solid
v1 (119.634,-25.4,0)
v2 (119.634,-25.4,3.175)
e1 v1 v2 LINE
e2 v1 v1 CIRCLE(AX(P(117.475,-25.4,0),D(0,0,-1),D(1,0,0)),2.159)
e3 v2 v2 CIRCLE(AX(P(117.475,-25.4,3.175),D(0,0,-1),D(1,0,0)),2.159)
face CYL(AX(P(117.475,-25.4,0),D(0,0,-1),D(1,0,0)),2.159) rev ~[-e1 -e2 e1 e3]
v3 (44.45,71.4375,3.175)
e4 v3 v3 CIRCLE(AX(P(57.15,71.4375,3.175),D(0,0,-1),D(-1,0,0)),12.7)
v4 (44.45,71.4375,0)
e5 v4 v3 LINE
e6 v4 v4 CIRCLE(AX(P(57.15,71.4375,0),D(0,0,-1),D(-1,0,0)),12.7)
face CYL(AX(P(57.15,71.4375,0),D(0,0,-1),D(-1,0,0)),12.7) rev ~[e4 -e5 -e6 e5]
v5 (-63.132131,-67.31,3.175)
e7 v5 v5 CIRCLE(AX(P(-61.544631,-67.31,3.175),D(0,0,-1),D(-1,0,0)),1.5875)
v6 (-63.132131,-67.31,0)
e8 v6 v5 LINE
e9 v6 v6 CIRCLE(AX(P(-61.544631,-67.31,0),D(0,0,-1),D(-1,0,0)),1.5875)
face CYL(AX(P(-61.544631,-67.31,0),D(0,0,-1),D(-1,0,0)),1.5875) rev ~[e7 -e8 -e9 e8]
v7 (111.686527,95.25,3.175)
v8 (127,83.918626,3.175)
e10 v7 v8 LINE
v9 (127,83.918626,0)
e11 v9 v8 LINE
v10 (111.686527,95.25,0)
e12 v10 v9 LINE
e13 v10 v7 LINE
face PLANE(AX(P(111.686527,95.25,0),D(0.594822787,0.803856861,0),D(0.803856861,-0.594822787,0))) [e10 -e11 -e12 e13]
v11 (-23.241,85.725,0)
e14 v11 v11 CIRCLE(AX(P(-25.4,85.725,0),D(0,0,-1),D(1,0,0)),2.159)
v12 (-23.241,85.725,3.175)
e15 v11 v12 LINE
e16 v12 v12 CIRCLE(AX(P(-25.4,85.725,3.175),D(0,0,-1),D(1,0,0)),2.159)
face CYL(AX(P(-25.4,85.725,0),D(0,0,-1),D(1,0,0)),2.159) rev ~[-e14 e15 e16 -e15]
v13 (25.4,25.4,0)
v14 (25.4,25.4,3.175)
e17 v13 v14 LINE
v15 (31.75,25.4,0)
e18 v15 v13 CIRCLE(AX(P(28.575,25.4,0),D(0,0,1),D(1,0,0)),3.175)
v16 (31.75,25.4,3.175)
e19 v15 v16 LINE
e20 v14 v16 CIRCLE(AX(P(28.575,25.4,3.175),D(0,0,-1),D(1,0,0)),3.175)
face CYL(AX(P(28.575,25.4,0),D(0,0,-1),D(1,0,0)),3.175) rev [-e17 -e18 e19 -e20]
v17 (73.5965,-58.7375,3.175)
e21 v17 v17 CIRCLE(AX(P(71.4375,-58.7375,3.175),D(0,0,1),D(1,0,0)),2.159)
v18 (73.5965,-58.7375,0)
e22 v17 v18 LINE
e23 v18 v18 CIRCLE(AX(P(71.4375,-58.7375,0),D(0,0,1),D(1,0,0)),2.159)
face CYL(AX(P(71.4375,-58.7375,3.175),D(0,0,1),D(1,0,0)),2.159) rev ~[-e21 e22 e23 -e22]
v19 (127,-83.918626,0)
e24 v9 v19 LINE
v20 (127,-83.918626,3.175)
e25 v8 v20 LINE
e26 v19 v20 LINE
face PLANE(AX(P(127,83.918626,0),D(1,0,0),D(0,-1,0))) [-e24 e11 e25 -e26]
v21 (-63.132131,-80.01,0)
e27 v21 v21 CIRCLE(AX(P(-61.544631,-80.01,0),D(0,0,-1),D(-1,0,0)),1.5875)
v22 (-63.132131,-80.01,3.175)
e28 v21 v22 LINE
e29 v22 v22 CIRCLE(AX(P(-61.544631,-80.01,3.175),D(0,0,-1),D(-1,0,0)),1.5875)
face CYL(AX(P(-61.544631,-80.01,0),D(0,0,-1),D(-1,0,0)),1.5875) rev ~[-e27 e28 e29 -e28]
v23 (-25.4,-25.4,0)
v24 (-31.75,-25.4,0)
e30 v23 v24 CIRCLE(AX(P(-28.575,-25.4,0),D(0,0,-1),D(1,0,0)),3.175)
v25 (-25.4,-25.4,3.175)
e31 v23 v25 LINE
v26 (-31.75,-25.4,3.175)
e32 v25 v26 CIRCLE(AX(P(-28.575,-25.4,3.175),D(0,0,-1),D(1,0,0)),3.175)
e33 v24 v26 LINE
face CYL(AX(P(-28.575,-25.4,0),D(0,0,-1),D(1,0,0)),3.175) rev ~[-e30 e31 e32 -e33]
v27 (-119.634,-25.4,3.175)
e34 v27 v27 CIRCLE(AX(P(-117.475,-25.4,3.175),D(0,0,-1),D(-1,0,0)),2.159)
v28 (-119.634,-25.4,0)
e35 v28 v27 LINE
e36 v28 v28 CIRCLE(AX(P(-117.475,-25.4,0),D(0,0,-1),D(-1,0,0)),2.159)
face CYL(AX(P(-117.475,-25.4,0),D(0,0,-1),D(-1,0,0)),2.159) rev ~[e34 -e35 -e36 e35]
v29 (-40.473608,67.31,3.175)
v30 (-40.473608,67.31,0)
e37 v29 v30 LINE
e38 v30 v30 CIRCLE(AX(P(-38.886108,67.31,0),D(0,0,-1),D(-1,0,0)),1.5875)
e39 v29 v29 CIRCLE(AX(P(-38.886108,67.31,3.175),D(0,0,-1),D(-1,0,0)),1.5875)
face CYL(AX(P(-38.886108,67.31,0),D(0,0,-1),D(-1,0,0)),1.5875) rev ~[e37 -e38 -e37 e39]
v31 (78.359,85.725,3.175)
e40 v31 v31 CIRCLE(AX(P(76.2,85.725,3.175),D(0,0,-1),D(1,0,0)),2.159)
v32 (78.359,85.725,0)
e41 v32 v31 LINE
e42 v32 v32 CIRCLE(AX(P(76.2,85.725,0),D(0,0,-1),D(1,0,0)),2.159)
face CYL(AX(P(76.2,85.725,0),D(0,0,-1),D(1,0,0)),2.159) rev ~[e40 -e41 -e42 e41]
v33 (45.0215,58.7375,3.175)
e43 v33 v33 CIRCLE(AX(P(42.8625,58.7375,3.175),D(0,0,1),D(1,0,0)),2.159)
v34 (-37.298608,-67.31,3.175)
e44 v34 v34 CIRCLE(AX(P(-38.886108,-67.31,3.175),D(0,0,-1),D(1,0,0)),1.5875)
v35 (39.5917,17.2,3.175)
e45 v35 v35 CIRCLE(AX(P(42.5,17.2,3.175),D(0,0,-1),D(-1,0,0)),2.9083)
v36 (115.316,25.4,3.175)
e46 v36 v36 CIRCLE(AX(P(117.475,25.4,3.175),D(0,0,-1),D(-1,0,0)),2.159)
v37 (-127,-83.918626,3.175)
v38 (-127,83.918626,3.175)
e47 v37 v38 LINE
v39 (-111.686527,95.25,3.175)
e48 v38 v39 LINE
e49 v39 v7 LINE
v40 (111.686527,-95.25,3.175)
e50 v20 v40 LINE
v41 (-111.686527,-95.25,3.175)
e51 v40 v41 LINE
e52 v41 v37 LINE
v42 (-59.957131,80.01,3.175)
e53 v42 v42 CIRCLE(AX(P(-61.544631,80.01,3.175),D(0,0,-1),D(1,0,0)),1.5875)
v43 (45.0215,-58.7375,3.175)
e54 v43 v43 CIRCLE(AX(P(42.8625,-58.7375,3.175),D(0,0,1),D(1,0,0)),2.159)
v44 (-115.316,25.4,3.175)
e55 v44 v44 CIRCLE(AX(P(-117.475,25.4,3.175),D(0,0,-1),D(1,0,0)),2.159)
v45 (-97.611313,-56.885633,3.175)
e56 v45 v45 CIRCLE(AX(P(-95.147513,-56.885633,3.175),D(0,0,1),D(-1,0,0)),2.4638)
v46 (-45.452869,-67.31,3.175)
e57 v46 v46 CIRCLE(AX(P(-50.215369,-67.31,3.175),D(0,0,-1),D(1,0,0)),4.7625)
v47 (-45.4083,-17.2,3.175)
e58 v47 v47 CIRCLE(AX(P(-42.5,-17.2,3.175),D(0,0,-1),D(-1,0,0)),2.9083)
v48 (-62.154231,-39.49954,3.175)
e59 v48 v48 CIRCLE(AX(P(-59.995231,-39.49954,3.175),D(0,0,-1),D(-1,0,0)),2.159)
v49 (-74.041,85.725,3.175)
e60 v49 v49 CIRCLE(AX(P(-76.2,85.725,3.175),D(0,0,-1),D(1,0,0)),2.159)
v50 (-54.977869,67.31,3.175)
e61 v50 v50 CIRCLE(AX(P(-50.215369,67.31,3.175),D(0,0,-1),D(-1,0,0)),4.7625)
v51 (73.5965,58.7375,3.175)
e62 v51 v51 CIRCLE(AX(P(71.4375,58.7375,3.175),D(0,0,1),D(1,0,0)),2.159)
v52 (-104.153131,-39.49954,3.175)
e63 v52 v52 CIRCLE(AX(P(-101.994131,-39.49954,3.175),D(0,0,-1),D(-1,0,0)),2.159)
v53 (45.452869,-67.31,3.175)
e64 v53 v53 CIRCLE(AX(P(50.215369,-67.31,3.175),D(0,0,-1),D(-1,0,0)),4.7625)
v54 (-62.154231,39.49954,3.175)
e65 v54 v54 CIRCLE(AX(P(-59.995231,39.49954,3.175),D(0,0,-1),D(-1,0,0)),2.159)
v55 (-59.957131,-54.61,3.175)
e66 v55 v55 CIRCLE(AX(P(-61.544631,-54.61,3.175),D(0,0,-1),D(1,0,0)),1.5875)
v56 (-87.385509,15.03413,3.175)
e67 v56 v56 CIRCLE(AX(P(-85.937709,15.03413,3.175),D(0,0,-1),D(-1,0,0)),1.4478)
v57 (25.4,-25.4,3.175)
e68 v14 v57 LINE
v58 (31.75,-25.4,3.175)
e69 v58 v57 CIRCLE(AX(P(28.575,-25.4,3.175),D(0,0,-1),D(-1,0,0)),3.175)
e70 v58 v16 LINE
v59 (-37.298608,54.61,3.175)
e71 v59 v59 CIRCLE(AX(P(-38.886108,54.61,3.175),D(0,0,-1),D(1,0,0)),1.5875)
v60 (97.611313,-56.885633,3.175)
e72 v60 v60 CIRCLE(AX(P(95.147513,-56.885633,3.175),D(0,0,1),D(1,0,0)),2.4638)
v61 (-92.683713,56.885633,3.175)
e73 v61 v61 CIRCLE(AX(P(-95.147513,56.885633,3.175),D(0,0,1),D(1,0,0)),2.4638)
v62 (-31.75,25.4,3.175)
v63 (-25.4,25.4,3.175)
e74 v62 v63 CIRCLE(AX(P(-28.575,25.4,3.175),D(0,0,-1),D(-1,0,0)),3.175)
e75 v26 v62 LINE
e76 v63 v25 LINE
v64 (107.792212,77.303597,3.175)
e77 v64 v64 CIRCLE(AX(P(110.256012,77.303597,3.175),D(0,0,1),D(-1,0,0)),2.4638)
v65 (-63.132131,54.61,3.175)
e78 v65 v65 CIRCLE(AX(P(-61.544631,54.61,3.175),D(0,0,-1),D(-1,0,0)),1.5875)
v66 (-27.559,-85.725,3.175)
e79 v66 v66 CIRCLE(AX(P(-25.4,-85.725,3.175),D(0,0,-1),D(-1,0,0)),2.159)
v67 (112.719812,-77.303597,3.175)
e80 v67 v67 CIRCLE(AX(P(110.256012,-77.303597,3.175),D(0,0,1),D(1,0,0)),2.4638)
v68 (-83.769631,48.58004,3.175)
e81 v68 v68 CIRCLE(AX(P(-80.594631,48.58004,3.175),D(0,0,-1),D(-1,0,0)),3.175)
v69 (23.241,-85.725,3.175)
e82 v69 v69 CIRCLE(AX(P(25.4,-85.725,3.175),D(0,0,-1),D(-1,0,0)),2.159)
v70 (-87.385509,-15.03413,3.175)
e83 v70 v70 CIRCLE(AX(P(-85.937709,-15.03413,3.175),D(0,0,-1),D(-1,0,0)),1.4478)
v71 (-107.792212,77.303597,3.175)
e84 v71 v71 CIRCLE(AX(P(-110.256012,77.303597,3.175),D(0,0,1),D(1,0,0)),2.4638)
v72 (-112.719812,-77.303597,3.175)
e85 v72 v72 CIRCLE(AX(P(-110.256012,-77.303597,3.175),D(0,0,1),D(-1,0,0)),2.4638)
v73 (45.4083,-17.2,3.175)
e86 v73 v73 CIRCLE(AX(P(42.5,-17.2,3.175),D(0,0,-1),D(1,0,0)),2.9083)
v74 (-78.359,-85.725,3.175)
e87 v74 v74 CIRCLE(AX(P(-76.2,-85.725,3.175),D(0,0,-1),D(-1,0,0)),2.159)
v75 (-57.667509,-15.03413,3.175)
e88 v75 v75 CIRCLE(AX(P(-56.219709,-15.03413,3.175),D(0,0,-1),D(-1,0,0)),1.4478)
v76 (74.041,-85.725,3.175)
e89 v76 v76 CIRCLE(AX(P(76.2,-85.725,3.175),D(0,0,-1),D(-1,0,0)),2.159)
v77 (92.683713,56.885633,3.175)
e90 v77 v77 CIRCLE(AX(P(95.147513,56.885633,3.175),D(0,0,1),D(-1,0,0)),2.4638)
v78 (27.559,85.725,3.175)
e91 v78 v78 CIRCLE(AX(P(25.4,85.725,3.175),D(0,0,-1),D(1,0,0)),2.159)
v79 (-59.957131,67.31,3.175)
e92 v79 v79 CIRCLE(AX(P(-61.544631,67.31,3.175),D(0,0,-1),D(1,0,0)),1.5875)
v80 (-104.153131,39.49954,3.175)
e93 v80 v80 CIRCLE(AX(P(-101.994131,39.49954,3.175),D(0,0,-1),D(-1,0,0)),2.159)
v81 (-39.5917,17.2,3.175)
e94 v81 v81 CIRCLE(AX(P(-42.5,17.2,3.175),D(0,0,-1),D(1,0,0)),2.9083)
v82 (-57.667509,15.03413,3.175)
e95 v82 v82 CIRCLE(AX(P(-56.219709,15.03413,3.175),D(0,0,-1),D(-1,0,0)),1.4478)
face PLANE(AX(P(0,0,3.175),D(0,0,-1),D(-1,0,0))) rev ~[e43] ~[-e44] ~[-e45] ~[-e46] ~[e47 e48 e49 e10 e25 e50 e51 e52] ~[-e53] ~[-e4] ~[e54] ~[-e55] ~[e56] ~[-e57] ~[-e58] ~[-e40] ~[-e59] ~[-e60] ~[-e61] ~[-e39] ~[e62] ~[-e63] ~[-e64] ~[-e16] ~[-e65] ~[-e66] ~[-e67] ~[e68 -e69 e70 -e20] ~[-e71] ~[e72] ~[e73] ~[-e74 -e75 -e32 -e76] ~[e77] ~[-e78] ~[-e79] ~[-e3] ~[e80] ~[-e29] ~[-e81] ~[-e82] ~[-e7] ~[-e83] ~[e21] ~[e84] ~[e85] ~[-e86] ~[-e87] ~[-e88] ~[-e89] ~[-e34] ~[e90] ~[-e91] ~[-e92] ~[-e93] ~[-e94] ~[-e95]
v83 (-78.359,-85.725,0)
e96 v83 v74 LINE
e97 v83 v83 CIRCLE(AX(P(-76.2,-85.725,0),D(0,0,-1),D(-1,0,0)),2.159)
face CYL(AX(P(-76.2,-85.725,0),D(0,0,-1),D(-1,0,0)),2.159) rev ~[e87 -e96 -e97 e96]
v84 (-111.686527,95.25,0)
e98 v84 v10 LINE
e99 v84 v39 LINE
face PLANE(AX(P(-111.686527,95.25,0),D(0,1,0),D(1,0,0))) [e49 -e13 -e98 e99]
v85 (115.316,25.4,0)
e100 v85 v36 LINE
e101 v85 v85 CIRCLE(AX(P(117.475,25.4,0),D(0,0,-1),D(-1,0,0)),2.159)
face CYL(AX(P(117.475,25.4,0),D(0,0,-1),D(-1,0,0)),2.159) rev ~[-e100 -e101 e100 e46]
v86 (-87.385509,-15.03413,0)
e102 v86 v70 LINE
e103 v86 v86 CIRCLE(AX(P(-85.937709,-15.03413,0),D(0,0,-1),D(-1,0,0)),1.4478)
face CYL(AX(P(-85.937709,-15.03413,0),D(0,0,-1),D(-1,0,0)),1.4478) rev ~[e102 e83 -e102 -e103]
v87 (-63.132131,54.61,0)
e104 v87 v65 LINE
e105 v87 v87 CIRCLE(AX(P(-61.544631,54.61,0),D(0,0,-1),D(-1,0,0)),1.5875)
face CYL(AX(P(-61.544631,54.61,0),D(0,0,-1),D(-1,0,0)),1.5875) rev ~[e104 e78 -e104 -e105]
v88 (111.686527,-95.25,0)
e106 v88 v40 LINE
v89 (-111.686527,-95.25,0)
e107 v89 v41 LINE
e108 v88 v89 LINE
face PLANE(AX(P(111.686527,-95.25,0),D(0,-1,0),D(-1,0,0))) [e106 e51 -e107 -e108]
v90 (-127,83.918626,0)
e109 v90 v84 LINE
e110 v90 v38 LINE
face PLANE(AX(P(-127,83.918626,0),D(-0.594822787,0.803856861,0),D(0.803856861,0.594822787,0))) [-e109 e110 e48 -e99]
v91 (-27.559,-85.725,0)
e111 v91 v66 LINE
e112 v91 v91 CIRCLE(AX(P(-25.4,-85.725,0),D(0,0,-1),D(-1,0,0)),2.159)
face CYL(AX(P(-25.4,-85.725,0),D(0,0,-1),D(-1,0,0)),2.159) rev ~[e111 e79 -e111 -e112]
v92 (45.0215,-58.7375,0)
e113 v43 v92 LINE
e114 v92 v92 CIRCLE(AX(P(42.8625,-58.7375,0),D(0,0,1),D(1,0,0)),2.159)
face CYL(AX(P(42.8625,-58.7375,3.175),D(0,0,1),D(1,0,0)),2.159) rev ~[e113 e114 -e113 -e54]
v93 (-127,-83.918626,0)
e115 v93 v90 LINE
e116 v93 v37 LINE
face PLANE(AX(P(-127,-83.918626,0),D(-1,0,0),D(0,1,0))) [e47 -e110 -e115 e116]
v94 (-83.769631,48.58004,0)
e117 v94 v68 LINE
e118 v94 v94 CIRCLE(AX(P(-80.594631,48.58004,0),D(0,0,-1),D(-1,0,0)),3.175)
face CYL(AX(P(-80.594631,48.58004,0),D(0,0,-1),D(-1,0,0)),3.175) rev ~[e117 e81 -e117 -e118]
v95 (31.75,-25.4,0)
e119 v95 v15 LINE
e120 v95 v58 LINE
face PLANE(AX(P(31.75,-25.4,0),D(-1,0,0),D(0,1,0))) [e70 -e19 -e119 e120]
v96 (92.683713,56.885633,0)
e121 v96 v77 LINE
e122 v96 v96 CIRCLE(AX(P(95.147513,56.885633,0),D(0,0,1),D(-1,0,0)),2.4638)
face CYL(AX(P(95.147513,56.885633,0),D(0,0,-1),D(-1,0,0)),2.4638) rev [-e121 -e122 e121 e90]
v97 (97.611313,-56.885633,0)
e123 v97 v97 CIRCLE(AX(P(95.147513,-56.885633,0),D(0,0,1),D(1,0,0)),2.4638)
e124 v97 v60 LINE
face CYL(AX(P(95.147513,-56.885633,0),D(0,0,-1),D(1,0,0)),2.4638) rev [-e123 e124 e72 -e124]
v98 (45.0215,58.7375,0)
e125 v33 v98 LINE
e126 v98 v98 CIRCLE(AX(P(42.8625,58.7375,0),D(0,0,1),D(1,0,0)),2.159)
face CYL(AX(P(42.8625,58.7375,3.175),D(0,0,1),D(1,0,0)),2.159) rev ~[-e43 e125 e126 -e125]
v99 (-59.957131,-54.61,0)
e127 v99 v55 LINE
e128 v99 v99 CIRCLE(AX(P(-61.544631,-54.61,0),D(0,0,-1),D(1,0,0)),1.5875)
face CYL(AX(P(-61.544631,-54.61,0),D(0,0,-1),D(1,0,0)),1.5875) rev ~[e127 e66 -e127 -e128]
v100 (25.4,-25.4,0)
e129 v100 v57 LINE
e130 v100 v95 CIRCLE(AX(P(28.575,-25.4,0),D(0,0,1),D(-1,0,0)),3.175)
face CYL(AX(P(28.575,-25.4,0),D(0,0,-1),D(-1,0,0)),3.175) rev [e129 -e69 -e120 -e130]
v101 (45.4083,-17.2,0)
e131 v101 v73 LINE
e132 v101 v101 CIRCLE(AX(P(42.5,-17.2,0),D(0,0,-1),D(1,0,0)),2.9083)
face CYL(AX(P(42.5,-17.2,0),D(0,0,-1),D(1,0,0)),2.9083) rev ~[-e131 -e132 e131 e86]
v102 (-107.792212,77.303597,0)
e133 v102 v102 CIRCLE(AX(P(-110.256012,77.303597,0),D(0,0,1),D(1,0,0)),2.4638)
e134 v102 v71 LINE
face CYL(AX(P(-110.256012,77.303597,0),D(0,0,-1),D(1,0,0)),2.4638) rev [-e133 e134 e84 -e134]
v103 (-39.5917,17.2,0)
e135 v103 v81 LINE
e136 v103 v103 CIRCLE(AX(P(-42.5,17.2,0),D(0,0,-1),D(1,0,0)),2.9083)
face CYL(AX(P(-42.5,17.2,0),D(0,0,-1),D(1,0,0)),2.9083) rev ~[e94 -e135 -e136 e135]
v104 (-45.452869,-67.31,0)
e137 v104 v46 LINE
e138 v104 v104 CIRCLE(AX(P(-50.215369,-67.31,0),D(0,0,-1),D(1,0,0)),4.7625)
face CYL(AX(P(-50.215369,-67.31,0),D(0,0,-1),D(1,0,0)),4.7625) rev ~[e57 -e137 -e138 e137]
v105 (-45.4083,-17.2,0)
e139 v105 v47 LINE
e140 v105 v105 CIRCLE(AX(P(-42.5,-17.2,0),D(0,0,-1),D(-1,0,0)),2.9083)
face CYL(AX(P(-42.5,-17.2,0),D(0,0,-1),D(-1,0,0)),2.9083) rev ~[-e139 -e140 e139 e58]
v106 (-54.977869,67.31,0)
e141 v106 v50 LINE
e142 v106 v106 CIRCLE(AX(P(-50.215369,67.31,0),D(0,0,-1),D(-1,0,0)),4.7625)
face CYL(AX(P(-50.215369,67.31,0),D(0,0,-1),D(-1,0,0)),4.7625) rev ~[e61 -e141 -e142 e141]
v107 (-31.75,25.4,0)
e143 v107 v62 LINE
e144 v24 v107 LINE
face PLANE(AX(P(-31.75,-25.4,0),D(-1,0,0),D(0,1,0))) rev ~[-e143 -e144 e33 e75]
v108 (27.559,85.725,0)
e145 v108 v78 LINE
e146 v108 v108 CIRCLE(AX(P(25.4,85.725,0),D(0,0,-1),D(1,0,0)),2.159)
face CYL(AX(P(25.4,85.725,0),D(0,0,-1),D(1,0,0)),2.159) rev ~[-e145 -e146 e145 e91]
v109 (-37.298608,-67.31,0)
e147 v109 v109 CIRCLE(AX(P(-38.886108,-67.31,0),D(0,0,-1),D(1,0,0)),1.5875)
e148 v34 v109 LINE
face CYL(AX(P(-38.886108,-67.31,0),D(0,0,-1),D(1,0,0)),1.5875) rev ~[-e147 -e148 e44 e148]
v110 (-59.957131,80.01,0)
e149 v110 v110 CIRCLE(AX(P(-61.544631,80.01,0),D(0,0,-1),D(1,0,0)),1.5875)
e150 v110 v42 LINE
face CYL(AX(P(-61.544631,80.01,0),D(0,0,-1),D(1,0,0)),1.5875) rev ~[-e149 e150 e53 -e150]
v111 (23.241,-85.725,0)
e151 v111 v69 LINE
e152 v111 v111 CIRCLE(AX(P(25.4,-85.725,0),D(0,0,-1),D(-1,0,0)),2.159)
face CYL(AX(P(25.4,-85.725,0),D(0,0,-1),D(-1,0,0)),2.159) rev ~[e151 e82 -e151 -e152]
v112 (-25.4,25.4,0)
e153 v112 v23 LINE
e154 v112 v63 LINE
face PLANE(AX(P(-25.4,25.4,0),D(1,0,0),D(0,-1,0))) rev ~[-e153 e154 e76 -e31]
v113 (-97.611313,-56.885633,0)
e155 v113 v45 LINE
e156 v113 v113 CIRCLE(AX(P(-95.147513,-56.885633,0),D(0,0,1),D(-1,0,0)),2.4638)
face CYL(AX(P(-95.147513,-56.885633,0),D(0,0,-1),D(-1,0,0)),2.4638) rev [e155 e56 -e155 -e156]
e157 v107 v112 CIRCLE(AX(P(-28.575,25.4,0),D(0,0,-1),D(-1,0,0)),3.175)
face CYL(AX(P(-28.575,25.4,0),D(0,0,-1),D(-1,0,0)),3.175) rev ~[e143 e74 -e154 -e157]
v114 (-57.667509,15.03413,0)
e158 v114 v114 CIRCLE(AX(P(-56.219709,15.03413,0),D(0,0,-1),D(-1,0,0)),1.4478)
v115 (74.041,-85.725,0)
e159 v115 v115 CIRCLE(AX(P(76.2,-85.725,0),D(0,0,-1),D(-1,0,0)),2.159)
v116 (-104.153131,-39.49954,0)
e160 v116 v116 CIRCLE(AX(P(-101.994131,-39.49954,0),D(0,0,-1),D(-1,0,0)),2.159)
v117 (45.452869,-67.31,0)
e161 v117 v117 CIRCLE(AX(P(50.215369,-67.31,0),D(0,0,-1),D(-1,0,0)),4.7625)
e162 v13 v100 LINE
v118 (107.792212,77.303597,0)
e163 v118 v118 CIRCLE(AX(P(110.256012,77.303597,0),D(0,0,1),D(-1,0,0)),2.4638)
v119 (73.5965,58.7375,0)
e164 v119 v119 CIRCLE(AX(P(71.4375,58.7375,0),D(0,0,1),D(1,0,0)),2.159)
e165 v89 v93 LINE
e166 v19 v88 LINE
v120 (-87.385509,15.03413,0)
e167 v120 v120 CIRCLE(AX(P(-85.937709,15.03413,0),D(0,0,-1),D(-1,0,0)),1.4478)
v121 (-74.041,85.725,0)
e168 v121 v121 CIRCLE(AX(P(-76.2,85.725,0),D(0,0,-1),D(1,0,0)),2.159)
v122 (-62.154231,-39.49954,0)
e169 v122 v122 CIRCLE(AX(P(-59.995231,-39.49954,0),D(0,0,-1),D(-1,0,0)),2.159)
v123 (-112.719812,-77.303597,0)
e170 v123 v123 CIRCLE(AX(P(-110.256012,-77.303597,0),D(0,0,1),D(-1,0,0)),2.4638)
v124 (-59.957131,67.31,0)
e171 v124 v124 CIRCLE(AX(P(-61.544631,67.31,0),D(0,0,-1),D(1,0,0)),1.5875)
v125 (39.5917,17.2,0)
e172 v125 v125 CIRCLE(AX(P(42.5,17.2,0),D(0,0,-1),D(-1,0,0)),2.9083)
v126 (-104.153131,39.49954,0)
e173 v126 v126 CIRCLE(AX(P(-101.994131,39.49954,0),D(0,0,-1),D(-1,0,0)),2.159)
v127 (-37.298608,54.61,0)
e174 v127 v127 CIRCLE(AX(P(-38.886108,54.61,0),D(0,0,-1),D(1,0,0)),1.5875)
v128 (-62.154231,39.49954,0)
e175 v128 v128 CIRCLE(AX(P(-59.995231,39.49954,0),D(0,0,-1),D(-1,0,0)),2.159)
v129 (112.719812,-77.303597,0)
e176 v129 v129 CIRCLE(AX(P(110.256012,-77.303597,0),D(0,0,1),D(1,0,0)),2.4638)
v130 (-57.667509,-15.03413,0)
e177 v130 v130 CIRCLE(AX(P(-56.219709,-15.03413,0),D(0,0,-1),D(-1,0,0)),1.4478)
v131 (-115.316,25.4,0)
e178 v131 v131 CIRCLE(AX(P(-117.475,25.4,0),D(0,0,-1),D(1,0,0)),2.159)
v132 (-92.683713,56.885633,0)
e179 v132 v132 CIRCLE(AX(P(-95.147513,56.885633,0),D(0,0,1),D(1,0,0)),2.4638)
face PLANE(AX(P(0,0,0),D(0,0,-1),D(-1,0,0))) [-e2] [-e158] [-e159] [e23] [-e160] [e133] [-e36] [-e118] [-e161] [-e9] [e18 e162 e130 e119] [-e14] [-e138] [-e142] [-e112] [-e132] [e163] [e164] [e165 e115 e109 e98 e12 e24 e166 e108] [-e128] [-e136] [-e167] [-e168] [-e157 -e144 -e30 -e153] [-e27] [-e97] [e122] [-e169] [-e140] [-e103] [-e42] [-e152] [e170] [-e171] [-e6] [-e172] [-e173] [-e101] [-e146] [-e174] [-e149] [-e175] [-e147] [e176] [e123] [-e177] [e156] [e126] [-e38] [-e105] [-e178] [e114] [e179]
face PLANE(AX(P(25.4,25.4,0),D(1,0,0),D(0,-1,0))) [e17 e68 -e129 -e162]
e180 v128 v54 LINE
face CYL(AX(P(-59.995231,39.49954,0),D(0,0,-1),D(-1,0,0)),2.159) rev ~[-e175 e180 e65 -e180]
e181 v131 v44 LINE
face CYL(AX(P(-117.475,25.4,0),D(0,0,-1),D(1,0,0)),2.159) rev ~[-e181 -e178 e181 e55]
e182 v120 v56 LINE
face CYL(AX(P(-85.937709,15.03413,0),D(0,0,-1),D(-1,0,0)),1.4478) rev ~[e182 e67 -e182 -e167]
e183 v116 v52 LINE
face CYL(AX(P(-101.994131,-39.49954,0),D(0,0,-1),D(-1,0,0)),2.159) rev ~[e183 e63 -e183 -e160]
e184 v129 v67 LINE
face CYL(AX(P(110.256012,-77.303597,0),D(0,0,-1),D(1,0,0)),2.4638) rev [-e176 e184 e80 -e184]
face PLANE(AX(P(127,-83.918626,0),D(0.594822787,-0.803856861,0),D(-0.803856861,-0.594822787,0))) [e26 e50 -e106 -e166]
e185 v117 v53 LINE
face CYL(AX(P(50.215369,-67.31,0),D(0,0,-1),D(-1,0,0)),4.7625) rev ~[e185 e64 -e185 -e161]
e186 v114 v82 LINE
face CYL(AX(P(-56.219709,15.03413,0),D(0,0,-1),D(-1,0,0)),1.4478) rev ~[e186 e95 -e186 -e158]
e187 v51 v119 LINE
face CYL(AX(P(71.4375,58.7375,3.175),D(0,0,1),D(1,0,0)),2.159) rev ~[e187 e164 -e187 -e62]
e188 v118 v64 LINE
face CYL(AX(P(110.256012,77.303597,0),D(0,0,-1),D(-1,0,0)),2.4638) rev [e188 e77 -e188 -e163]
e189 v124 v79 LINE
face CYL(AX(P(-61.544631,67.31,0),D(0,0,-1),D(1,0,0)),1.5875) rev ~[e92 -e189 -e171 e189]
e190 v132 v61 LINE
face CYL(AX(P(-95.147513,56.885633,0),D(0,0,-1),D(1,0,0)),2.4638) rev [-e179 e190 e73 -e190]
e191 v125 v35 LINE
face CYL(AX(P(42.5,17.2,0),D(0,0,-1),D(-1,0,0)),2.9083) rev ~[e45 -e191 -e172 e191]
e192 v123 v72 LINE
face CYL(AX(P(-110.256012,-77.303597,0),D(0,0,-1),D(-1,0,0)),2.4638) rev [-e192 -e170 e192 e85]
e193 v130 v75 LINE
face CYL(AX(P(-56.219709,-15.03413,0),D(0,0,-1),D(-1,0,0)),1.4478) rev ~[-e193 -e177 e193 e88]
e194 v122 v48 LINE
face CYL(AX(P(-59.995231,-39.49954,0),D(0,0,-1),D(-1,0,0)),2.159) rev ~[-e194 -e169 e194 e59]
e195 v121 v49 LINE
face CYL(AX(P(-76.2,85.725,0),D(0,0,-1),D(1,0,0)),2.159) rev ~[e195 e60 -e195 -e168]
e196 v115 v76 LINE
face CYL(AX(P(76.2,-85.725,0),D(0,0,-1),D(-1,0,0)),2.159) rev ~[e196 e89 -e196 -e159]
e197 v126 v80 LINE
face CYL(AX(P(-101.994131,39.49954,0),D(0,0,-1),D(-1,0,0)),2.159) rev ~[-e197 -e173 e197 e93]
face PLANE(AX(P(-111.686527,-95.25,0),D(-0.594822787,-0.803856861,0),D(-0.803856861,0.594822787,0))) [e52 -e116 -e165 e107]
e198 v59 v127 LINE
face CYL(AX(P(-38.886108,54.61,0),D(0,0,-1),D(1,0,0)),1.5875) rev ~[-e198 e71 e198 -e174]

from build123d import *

# Parameters (mm, degrees)
SKETCH1_R           = 2.4638
BOSS_EXTRUDE1_DEPTH = 3.175
SKETCH2_R           = 2.159
CUT_EXTRUDE1_DEPTH  = 159.781746826
SKETCH5_R           = 12.7
SKETCH5_R_2         = 3.175
SKETCH5_R_3         = 2.159
SKETCH5_R_4         = 1.4478
CUT_EXTRUDE2_DEPTH  = 159.781746826
SKETCH6_R           = 2.159
CUT_EXTRUDE3_DEPTH  = 159.781746826
SKETCH5_3_R         = 2.9083
CUT_EXTRUDE4_DEPTH  = 159.781746826
SKETCH5_4_R         = 1.5875
SKETCH5_4_R_2       = 4.7625
CUT_EXTRUDE5_DEPTH  = 159.781746826
SKETCH5_5_R         = 1.5875
CUT_EXTRUDE6_DEPTH  = 2.54
SKETCH5_6_R         = 1.5875
CUT_EXTRUDE7_DEPTH  = 159.781746826


with BuildPart() as part:
    # Sketch1 → Boss-Extrude1 (new body)
    with BuildSketch(Plane.XY):
        Polygon((-111.686526805, -95.25), (-127, -83.918625912), (-127, 83.918625912), (-111.686526805, 95.25), (111.686526805, 95.25), (127, 83.918625912), (127, -83.918625912), (111.686526805, -95.25), align=None)
        with Locations((-95.147512794, 56.885632681)):
            Circle(SKETCH1_R, mode=Mode.SUBTRACT)
        with Locations((-110.256011578, 77.303596941)):
            Circle(SKETCH1_R, mode=Mode.SUBTRACT)
        with Locations((110.256011578, 77.303596941)):
            Circle(SKETCH1_R, mode=Mode.SUBTRACT)
        with Locations((95.147512794, 56.885632681)):
            Circle(SKETCH1_R, mode=Mode.SUBTRACT)
        with Locations((-110.256011578, -77.303596941)):
            Circle(SKETCH1_R, mode=Mode.SUBTRACT)
        with Locations((-95.147512794, -56.885632681)):
            Circle(SKETCH1_R, mode=Mode.SUBTRACT)
        with Locations((110.256011578, -77.303596941)):
            Circle(SKETCH1_R, mode=Mode.SUBTRACT)
        with Locations((95.147512794, -56.885632681)):
            Circle(SKETCH1_R, mode=Mode.SUBTRACT)
    extrude(amount=BOSS_EXTRUDE1_DEPTH)

    # Sketch2 → Cut-Extrude1 (cut, through all)
    with BuildSketch(Plane.XY.offset(3.175)):
        with Locations((42.8625, 58.7375)):
            Circle(SKETCH2_R)
        with Locations((42.8625, -58.7375)):
            Circle(SKETCH2_R)
        with Locations((71.4375, -58.7375)):
            Circle(SKETCH2_R)
        with Locations((71.4375, 58.7375)):
            Circle(SKETCH2_R)
    extrude(amount=-CUT_EXTRUDE1_DEPTH, mode=Mode.SUBTRACT)

    # Sketch5 → Cut-Extrude2 (cut, through all)
    with BuildSketch(Plane(origin=(0, 0, 0), x_dir=(-1, 0, 0), z_dir=(0, 0, -1))):
        with Locations((-57.15, 71.4375)):
            Circle(SKETCH5_R)
        with Locations((80.594630637, 48.58004)):
            Circle(SKETCH5_R_2)
        with Locations((59.995230637, -39.49954)):
            Circle(SKETCH5_R_3)
        with Locations((101.994130637, -39.49954)):
            Circle(SKETCH5_R_3)
        with Locations((101.994130637, 39.49954)):
            Circle(SKETCH5_R_3)
        with Locations((59.995230637, 39.49954)):
            Circle(SKETCH5_R_3)
        with BuildLine():
            Line((-31.75, 25.4), (-31.75, -25.4))
            ThreePointArc((-31.75, -25.4), (-28.575, -28.575), (-25.4, -25.4))
            Line((-25.4, -25.4), (-25.4, 25.4))
            ThreePointArc((-25.4, 25.4), (-28.575, 28.575), (-31.75, 25.4))
        make_face()
        with Locations((85.937708857, 15.03413)):
            Circle(SKETCH5_R_4)
        with Locations((56.219708857, 15.03413)):
            Circle(SKETCH5_R_4)
        with Locations((56.219708857, -15.03413)):
            Circle(SKETCH5_R_4)
        with Locations((85.937708857, -15.03413)):
            Circle(SKETCH5_R_4)
        with BuildLine():
            ThreePointArc((31.75, 25.4), (28.575, 28.575), (25.4, 25.4))
            Line((25.4, 25.4), (25.4, -25.4))
            ThreePointArc((25.4, -25.4), (28.575, -28.575), (31.75, -25.4))
            Line((31.75, -25.4), (31.75, 25.4))
        make_face()
    extrude(amount=-CUT_EXTRUDE2_DEPTH, mode=Mode.SUBTRACT)

    # Sketch6 → Cut-Extrude3 (cut, through all)
    with BuildSketch(Plane(origin=(0, 0, 0), x_dir=(-1, 0, 0), z_dir=(0, 0, -1))):
        with Locations((-76.2, -85.725)):
            Circle(SKETCH6_R)
        with Locations((-25.4, -85.725)):
            Circle(SKETCH6_R)
        with Locations((25.4, -85.725)):
            Circle(SKETCH6_R)
        with Locations((76.2, -85.725)):
            Circle(SKETCH6_R)
        with Locations((76.2, 85.725)):
            Circle(SKETCH6_R)
        with Locations((25.4, 85.725)):
            Circle(SKETCH6_R)
        with Locations((-25.4, 85.725)):
            Circle(SKETCH6_R)
        with Locations((-76.2, 85.725)):
            Circle(SKETCH6_R)
        with Locations((117.475, -25.4)):
            Circle(SKETCH6_R)
        with Locations((117.475, 25.4)):
            Circle(SKETCH6_R)
        with Locations((-117.475, 25.4)):
            Circle(SKETCH6_R)
        with Locations((-117.475, -25.4)):
            Circle(SKETCH6_R)
    extrude(amount=-CUT_EXTRUDE3_DEPTH, mode=Mode.SUBTRACT)

    # Sketch5<3> → Cut-Extrude4 (cut, through all)
    with BuildSketch(Plane(origin=(0, 0, 0), x_dir=(-1, 0, 0), z_dir=(0, 0, -1))):
        with Locations((-42.5, 17.2)):
            Circle(SKETCH5_3_R)
        with Locations((-42.5, -17.2)):
            Circle(SKETCH5_3_R)
        with Locations((42.5, -17.2)):
            Circle(SKETCH5_3_R)
        with Locations((42.5, 17.2)):
            Circle(SKETCH5_3_R)
    extrude(amount=-CUT_EXTRUDE4_DEPTH, mode=Mode.SUBTRACT)

    # Sketch5<4> → Cut-Extrude5 (cut, through all)
    with BuildSketch(Plane(origin=(0, 0, 0), x_dir=(-1, 0, 0), z_dir=(0, 0, -1))):
        with Locations((61.544630637, -54.61)):
            Circle(SKETCH5_4_R)
        with Locations((61.544630637, -67.31)):
            Circle(SKETCH5_4_R)
        with Locations((61.544630637, 54.61)):
            Circle(SKETCH5_4_R)
        with Locations((61.544630637, -80.01)):
            Circle(SKETCH5_4_R)
        with Locations((-50.215369363, -67.31)):
            Circle(SKETCH5_4_R_2)
        with Locations((50.215369363, -67.31)):
            Circle(SKETCH5_4_R_2)
        with Locations((61.544630637, 67.31)):
            Circle(SKETCH5_4_R)
        with Locations((61.544630637, 80.01)):
            Circle(SKETCH5_4_R)
        with Locations((50.215369363, 67.31)):
            Circle(SKETCH5_4_R_2)
    extrude(amount=-CUT_EXTRUDE5_DEPTH, mode=Mode.SUBTRACT)

    # Sketch5<5> → Cut-Extrude6 (cut)
    with BuildSketch(Plane(origin=(0, 0, 0), x_dir=(-1, 0, 0), z_dir=(0, 0, -1))):
        with Locations((38.886108088, 67.31)):
            Circle(SKETCH5_5_R)
        with Locations((38.886108088, 54.61)):
            Circle(SKETCH5_5_R)
        with Locations((38.886108088, -67.31)):
            Circle(SKETCH5_5_R)
    extrude(amount=-CUT_EXTRUDE6_DEPTH, mode=Mode.SUBTRACT)

    # Sketch5<6> → Cut-Extrude7 (cut, through all)
    with BuildSketch(Plane(origin=(0, 0, 0), x_dir=(-1, 0, 0), z_dir=(0, 0, -1))):
        with Locations((38.886108088, 67.31)):
            Circle(SKETCH5_6_R)
        with Locations((38.886108088, 54.61)):
            Circle(SKETCH5_6_R)
        with Locations((38.886108088, -67.31)):
            Circle(SKETCH5_6_R)
    extrude(amount=-CUT_EXTRUDE7_DEPTH, mode=Mode.SUBTRACT)


solid = part.part
